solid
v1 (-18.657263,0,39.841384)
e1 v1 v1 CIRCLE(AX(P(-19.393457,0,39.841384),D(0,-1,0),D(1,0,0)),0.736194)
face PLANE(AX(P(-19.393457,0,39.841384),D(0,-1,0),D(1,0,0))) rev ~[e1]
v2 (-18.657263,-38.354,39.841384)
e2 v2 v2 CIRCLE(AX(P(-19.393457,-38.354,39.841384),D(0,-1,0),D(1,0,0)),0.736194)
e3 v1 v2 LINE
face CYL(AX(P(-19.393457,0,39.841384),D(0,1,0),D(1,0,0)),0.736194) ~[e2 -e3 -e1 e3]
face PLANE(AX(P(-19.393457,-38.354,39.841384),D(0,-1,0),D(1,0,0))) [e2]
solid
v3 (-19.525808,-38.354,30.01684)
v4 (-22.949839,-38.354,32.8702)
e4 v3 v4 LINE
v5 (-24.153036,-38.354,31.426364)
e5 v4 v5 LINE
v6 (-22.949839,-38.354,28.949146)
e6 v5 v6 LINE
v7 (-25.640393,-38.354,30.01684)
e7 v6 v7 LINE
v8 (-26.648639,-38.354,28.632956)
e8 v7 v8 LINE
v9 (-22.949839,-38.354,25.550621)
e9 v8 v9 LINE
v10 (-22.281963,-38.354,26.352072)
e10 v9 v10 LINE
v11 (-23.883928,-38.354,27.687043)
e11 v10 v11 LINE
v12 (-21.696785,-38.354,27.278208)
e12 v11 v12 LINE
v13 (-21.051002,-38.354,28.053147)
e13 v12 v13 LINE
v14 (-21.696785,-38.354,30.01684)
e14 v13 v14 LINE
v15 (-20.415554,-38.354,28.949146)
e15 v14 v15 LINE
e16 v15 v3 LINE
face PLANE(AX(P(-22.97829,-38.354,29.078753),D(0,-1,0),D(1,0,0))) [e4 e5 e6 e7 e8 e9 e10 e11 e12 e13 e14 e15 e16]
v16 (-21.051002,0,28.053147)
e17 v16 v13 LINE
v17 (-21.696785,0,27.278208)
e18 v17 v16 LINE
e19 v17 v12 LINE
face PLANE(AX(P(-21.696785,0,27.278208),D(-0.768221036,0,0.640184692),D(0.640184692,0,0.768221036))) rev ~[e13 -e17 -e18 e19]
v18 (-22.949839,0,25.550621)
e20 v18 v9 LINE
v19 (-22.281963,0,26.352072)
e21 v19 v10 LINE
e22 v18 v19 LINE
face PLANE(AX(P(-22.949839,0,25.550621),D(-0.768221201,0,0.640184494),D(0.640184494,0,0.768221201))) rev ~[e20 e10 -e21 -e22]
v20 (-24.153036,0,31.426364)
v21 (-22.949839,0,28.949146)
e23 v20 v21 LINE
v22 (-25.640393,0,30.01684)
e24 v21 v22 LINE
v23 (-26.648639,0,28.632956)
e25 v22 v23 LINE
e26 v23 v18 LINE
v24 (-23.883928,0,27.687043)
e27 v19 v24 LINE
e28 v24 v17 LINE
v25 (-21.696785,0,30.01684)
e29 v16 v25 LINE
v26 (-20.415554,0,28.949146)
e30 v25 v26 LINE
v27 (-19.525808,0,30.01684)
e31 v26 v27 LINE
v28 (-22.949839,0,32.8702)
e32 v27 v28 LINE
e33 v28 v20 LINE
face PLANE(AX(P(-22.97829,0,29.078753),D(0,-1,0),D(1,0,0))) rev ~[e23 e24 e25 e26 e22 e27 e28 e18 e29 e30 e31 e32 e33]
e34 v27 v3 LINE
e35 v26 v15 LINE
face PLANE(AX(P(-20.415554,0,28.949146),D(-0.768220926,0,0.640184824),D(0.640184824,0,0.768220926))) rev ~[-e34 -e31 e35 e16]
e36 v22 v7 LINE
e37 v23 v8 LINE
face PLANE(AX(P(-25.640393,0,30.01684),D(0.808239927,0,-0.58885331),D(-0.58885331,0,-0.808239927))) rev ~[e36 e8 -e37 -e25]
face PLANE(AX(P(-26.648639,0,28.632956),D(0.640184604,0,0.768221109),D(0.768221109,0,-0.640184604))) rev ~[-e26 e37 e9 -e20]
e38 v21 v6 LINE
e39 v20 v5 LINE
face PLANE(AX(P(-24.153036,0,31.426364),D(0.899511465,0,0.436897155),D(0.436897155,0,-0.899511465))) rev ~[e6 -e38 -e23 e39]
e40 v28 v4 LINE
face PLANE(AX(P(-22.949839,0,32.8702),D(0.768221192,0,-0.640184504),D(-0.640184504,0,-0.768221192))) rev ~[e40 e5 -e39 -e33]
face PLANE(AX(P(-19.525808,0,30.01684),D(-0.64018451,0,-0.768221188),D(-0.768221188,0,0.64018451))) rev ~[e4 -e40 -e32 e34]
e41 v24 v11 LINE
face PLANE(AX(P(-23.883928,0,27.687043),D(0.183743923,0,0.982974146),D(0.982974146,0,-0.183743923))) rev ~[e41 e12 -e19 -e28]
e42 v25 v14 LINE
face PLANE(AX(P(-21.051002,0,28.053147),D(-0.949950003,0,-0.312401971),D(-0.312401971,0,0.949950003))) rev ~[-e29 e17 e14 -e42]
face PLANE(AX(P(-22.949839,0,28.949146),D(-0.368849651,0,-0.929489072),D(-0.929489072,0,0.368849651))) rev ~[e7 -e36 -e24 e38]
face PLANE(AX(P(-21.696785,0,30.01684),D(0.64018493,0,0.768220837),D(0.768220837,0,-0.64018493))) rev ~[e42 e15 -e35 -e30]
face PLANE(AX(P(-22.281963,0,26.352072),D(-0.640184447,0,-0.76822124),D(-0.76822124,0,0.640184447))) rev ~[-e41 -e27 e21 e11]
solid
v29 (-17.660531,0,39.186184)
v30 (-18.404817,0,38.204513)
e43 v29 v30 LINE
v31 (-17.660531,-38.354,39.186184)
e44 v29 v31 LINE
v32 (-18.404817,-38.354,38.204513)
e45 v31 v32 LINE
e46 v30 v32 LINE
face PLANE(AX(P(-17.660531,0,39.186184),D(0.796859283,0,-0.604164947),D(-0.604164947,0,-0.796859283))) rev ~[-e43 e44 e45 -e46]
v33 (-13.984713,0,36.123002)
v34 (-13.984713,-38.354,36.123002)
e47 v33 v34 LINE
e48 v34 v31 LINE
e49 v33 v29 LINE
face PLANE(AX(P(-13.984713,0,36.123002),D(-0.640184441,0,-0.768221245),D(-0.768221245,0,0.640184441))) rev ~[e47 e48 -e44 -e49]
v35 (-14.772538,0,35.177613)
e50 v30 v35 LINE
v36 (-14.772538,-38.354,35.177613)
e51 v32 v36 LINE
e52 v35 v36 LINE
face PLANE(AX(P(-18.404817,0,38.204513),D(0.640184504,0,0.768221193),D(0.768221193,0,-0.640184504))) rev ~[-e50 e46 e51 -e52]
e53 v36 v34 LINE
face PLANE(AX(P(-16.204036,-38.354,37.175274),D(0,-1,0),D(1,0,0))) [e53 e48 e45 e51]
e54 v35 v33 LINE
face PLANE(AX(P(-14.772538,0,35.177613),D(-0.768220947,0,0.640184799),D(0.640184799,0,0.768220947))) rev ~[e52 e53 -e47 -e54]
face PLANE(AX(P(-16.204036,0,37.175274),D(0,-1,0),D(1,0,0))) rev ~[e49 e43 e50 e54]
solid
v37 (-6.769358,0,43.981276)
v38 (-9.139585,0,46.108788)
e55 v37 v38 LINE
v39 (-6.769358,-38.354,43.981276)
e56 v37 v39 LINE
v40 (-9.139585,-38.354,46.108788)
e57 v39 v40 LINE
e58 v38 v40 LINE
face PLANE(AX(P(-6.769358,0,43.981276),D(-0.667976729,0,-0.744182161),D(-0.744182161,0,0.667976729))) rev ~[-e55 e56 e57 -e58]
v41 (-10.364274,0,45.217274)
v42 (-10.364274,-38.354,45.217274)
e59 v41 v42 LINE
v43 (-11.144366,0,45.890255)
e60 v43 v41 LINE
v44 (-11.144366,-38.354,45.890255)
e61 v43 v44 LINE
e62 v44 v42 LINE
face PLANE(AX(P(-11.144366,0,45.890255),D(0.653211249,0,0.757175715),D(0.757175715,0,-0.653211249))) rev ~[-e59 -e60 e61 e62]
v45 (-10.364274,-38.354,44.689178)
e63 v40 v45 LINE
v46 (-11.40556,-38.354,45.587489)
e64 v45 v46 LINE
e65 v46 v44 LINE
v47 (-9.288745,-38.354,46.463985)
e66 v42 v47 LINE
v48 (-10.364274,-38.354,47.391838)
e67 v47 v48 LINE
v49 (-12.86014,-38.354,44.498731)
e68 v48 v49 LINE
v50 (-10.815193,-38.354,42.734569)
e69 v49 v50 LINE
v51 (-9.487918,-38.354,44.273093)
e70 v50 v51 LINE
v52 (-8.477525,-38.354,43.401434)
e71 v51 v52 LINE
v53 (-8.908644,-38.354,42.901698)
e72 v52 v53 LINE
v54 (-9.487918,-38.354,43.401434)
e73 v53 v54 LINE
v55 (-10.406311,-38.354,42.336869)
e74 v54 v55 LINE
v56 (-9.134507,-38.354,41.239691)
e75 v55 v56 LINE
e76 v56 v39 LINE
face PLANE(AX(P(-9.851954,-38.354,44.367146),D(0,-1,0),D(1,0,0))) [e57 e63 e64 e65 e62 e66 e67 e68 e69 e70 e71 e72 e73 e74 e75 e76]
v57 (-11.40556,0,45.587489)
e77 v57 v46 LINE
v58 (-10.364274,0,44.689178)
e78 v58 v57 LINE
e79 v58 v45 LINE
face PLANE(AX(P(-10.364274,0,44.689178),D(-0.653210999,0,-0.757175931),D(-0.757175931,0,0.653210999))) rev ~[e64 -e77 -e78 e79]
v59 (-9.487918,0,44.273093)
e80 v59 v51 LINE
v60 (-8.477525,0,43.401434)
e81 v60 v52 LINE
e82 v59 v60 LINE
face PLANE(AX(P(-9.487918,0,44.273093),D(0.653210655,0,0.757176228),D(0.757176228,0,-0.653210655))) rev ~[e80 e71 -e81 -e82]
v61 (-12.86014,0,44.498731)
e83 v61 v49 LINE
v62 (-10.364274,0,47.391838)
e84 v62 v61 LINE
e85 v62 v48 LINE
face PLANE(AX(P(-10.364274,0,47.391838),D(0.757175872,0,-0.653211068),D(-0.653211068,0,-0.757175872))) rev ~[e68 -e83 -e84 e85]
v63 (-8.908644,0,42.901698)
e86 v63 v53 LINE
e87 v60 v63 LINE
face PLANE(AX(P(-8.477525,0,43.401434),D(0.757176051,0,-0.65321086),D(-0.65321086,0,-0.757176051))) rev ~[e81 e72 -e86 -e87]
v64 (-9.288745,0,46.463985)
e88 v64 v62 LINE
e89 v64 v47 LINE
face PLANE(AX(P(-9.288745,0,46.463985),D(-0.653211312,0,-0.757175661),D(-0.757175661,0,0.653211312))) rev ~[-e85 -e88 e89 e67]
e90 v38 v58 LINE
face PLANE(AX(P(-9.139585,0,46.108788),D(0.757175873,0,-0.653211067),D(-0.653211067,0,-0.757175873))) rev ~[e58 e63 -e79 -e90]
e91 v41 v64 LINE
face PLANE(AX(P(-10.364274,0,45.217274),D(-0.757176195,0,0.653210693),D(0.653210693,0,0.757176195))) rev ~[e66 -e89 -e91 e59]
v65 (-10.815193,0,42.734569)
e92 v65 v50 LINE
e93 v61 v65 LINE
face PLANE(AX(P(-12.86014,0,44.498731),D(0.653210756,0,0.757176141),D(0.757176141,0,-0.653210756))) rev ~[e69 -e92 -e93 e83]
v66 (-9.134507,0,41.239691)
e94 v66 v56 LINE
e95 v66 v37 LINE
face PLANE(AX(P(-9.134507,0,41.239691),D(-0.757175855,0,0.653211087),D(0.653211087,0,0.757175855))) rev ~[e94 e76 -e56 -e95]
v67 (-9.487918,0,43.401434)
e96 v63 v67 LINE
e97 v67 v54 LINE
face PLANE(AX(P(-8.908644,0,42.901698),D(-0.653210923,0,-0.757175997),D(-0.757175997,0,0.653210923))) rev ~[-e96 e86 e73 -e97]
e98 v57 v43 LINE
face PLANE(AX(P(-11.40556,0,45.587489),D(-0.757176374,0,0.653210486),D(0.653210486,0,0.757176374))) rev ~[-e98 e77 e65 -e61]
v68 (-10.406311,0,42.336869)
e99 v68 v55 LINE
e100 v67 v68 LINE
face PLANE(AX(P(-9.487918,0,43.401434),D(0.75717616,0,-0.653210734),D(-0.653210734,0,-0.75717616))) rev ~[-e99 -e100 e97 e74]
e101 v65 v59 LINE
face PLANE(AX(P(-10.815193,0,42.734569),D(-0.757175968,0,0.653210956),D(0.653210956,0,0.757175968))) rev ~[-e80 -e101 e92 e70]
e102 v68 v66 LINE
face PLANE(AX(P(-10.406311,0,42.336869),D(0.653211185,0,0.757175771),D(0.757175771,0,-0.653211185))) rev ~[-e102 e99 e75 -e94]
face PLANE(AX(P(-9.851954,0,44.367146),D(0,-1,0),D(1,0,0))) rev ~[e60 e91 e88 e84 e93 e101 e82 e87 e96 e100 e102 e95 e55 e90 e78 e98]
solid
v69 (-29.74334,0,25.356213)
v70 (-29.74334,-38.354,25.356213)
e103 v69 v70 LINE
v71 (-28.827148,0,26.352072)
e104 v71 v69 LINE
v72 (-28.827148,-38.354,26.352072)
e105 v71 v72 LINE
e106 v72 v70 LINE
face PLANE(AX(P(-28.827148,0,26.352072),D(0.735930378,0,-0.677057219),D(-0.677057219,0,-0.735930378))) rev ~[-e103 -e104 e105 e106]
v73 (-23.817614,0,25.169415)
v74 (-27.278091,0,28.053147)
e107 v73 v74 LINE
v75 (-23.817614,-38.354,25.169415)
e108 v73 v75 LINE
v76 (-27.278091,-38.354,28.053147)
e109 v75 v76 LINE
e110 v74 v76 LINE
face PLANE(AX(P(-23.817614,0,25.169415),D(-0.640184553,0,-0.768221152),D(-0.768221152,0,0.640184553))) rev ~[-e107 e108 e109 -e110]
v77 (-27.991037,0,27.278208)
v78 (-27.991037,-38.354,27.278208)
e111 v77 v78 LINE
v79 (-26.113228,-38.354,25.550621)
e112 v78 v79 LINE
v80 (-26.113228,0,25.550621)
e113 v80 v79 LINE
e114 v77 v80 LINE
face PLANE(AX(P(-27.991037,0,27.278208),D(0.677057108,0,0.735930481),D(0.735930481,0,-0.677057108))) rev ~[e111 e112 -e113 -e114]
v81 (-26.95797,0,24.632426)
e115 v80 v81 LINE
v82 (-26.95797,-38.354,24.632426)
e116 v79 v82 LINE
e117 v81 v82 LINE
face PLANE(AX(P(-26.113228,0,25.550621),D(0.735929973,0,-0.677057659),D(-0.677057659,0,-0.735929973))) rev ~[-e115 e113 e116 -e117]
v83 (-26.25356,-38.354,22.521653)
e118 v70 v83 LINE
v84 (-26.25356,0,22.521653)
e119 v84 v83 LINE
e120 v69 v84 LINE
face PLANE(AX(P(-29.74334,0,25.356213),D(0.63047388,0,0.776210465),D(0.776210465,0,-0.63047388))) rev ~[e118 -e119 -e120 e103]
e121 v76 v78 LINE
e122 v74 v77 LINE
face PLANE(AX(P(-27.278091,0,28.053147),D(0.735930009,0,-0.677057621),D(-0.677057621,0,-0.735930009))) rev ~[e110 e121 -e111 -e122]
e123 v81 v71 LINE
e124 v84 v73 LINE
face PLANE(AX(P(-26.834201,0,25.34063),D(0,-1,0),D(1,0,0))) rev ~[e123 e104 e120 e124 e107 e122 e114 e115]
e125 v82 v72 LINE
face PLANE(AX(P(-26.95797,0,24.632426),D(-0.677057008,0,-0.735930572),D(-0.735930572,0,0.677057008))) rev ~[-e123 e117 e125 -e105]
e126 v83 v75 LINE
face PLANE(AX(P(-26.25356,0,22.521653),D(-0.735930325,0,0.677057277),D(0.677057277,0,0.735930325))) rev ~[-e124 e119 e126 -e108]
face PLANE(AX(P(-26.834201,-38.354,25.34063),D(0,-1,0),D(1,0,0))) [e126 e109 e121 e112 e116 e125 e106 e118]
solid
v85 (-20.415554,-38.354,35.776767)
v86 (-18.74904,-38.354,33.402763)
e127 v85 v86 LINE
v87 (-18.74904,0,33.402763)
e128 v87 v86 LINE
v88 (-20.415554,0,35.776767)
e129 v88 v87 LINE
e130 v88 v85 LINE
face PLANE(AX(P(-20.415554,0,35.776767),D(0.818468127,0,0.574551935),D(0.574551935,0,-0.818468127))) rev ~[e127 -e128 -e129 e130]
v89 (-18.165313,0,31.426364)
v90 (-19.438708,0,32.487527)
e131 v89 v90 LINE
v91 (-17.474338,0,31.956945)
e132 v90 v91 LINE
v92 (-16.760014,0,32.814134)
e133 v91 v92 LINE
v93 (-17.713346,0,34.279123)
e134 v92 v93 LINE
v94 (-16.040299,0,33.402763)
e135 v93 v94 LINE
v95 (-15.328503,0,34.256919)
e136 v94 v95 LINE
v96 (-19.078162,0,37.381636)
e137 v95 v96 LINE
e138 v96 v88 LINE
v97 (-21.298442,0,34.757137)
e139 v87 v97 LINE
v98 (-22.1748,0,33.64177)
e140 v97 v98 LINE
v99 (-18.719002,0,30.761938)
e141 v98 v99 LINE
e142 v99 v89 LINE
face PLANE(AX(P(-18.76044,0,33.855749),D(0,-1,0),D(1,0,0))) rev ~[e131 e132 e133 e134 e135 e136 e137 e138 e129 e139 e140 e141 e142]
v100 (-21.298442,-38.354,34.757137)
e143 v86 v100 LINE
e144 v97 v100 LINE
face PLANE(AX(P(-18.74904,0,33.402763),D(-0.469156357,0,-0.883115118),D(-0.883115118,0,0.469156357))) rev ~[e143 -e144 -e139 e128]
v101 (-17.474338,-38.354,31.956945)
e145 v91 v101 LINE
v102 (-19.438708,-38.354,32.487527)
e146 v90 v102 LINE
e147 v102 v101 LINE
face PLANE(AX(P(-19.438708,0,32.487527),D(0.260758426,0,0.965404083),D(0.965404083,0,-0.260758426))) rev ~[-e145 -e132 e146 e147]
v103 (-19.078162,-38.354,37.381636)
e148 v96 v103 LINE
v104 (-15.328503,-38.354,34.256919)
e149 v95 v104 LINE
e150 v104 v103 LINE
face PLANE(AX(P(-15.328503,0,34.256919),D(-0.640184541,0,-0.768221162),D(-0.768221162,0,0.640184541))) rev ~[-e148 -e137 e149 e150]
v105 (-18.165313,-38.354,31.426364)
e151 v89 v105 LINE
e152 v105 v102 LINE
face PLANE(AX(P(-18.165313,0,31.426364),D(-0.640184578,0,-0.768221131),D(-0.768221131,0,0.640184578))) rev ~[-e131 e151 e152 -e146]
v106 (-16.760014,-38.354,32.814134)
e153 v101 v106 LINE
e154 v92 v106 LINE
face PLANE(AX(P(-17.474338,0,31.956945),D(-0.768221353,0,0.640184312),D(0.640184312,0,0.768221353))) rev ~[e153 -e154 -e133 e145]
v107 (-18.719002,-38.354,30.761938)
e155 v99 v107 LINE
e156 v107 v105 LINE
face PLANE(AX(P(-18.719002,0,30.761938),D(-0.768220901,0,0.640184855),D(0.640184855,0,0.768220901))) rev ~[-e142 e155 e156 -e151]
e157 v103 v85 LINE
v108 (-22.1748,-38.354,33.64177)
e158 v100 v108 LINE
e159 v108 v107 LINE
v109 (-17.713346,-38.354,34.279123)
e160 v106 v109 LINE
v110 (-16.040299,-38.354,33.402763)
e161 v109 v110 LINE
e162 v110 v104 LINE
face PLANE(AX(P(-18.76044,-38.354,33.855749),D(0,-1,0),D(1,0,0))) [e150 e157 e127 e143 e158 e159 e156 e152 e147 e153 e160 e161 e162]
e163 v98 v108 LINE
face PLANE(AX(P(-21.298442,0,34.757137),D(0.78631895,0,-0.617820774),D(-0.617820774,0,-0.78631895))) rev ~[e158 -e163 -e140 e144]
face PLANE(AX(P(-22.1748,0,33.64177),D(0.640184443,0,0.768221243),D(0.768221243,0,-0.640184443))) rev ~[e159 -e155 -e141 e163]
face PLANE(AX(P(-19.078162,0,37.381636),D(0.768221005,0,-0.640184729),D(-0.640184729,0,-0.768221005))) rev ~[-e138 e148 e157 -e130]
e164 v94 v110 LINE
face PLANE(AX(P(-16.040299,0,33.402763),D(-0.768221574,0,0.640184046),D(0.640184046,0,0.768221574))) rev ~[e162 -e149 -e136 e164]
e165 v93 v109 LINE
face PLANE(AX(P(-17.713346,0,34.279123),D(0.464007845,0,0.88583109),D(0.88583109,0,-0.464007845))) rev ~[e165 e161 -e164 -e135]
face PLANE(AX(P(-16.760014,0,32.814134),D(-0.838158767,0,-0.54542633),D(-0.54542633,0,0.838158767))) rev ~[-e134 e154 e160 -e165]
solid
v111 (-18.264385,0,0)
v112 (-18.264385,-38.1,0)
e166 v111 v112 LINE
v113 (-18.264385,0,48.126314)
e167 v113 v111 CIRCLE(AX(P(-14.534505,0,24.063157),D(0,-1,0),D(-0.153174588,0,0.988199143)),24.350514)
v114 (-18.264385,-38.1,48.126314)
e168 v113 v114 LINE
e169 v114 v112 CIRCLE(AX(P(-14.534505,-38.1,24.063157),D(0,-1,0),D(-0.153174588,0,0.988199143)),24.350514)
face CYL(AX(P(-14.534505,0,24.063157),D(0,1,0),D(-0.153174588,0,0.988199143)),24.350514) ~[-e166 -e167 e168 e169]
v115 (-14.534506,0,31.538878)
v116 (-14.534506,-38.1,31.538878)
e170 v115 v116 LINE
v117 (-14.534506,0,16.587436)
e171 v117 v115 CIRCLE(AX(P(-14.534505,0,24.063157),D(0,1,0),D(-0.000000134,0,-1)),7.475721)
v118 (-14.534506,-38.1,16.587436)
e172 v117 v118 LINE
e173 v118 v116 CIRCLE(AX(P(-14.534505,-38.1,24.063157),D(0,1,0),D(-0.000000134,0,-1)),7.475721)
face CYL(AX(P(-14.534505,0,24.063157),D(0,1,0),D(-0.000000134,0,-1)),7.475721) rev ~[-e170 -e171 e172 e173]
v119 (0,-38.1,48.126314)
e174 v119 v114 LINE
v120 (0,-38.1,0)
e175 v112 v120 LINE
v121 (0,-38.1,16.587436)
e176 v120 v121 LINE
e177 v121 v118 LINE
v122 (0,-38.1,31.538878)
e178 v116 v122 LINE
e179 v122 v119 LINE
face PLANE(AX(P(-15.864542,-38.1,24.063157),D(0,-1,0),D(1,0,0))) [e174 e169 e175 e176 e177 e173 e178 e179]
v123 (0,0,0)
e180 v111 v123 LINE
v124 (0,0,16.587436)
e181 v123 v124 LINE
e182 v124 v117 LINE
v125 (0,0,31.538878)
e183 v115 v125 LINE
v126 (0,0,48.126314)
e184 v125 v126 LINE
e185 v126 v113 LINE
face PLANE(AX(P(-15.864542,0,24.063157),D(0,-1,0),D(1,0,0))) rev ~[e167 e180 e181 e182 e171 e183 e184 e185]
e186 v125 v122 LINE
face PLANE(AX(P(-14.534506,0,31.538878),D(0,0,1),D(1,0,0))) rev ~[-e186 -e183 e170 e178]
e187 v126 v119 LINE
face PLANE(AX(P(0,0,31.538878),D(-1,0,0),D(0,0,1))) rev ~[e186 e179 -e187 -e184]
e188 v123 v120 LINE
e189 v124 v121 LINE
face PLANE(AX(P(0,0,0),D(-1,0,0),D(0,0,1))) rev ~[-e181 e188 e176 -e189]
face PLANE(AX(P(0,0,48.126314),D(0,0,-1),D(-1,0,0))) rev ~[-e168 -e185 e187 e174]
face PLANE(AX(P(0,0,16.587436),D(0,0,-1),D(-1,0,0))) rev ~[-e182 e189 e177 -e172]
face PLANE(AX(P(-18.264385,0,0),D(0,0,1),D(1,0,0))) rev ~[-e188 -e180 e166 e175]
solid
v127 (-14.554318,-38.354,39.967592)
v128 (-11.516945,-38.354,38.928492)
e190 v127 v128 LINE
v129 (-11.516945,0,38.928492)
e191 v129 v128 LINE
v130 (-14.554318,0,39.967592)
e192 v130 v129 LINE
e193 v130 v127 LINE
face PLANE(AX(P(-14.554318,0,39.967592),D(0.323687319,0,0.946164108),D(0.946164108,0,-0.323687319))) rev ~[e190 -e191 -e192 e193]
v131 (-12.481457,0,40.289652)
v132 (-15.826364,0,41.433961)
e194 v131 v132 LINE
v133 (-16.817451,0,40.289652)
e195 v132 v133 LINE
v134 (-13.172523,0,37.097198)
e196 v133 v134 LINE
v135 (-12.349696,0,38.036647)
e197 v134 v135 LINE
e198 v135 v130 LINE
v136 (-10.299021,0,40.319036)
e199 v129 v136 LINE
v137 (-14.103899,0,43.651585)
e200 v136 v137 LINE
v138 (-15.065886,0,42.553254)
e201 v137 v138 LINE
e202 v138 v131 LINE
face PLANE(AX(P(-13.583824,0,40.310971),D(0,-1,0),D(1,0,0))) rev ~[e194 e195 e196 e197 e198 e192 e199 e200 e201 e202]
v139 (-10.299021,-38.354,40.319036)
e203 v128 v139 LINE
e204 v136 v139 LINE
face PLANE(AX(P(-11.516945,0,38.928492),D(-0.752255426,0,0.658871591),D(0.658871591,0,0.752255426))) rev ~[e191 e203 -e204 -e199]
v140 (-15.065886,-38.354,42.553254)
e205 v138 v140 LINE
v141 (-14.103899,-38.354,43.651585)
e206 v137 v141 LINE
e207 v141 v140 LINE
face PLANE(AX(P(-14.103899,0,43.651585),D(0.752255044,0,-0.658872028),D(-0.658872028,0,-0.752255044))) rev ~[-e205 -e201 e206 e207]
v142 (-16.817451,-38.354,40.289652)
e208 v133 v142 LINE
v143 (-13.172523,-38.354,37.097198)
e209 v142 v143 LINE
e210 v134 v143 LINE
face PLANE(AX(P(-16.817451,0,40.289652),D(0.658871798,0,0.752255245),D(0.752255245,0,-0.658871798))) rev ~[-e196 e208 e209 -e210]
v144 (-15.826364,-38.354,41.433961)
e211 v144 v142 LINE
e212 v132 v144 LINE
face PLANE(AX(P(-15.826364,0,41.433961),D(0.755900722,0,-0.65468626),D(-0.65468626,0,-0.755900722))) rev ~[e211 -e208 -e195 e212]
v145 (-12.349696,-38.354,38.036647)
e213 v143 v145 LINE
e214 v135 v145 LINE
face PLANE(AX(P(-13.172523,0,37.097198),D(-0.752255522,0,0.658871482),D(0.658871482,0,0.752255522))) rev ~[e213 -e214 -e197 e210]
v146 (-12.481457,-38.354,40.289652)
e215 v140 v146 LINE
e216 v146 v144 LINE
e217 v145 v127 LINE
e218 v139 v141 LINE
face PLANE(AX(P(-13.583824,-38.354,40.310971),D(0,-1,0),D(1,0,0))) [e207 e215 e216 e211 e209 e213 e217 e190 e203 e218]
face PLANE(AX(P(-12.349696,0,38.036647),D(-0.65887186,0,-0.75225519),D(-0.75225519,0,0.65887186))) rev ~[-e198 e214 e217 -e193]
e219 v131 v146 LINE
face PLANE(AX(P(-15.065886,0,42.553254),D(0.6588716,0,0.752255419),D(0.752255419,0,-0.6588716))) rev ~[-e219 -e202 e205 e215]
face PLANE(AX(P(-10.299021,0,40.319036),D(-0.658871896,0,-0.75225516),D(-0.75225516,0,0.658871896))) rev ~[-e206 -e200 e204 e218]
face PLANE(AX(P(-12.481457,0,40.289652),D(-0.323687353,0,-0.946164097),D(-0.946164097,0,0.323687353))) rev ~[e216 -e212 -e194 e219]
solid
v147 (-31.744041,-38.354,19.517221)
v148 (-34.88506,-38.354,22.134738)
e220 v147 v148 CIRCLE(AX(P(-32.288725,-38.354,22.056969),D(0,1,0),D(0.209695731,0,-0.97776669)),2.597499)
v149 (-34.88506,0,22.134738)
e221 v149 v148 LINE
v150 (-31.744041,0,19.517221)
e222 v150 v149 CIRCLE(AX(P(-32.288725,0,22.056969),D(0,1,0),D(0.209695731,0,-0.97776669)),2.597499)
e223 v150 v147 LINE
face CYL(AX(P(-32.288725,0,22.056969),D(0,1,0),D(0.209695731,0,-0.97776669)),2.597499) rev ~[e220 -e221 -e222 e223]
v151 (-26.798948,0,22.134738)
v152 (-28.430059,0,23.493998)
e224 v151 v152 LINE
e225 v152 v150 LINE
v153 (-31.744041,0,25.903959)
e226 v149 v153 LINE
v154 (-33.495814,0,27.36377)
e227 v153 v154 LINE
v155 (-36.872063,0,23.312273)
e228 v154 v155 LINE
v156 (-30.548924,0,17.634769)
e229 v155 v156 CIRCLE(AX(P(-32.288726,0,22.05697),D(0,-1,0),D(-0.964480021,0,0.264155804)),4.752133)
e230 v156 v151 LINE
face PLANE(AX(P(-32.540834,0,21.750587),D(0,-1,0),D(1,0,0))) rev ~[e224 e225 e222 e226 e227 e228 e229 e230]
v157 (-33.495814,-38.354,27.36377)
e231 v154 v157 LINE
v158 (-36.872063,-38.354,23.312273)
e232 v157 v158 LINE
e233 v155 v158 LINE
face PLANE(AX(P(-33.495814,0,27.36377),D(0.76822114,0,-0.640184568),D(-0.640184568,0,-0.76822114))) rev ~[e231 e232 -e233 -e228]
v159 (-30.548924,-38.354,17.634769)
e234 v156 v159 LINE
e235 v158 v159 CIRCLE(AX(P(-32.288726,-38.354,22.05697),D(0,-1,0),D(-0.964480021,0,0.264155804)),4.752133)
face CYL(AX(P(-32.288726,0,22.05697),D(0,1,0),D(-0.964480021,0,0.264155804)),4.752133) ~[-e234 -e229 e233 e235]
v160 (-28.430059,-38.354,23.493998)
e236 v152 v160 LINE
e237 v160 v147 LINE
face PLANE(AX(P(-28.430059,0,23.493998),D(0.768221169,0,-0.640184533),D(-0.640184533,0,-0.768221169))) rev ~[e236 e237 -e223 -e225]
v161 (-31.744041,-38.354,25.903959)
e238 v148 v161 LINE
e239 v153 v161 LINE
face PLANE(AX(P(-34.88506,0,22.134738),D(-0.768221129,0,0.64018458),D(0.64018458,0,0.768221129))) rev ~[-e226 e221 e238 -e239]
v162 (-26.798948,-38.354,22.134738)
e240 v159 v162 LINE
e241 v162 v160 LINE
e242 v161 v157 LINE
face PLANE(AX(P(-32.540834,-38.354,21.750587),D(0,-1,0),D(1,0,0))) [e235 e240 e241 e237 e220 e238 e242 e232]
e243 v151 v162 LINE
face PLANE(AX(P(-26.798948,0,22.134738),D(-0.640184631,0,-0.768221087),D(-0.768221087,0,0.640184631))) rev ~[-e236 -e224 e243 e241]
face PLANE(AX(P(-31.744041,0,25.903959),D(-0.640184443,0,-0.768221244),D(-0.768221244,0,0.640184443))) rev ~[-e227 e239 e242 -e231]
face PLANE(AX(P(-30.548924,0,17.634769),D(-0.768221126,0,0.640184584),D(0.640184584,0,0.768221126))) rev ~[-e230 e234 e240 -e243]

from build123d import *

# Parameters (mm, degrees)
F1_R     = 0.736194
F2_DEPTH = 38.354
F3_DEPTH = 38.1


with BuildPart() as f2:
    # F1 (on Front) → F2 (new body)
    with BuildSketch(Plane.XZ):
        with BuildLine():
            Line((-33.495814, 27.36377), (-36.872063, 23.312273))
            ThreePointArc((-36.872063, 23.312273), (-35.463617, 18.521035), (-30.548924, 17.634769))
            Line((-30.548924, 17.634769), (-26.798948, 22.134738))
            Line((-26.798948, 22.134738), (-28.430059, 23.493998))
            Line((-28.430059, 23.493998), (-31.744041, 19.517221))
            ThreePointArc((-31.744041, 19.517221), (-33.951605, 20.061516), (-34.88506, 22.134738))
            Line((-34.88506, 22.134738), (-31.744041, 25.903959))
            Line((-31.744041, 25.903959), (-33.495814, 27.36377))
        make_face()
        Polygon((-28.827148, 26.352072), (-29.74334, 25.356213), (-26.25356, 22.521653), (-23.817614, 25.169415), (-27.278091, 28.053147), (-27.991037, 27.278208), (-26.113228, 25.550621), (-26.95797, 24.632426), align=None)
        Polygon((-25.640393, 30.01684), (-26.648639, 28.632956), (-22.949839, 25.550621), (-22.281963, 26.352072), (-23.883928, 27.687043), (-21.696785, 27.278208), (-21.051002, 28.053147), (-21.696785, 30.01684), (-20.415554, 28.949146), (-19.525808, 30.01684), (-22.949839, 32.8702), (-24.153036, 31.426364), (-22.949839, 28.949146), align=None)
        Polygon((-21.298442, 34.757137), (-22.1748, 33.64177), (-18.719002, 30.761938), (-18.165313, 31.426364), (-19.438708, 32.487527), (-17.474338, 31.956945), (-16.760014, 32.814134), (-17.713346, 34.279123), (-16.040299, 33.402763), (-15.328503, 34.256919), (-19.078162, 37.381636), (-20.415554, 35.776767), (-18.74904, 33.402763), align=None)
        Polygon((-17.660531, 39.186184), (-18.404817, 38.204513), (-14.772538, 35.177613), (-13.984713, 36.123002), align=None)
        with Locations((-19.393457, 39.841384)):
            Circle(F1_R)
        Polygon((-15.826364, 41.433961), (-16.817451, 40.289652), (-13.172523, 37.097198), (-12.349696, 38.036647), (-14.554318, 39.967592), (-11.516945, 38.928492), (-10.299021, 40.319036), (-14.103899, 43.651585), (-15.065886, 42.553254), (-12.481457, 40.289652), align=None)
        Polygon((-9.487918, 43.401434), (-10.406311, 42.336869), (-9.134507, 41.239691), (-6.769358, 43.981276), (-9.139585, 46.108788), (-10.364274, 44.689178), (-11.40556, 45.587489), (-11.144366, 45.890255), (-10.364274, 45.217274), (-9.288745, 46.463985), (-10.364274, 47.391838), (-12.86014, 44.498731), (-10.815193, 42.734569), (-9.487918, 44.273093), (-8.477525, 43.401434), (-8.908644, 42.901698), align=None)
    extrude(amount=F2_DEPTH)


with BuildPart() as f3:
    # F0 (on Front) → F3 (new body)
    with BuildSketch(Plane.XZ):
        with BuildLine():
            Line((0, 31.538878), (0, 48.126314))
            Line((0, 48.126314), (-18.264385, 48.126314))
            ThreePointArc((-18.264385, 48.126314), (-38.885019, 24.063157), (-18.264385, 0))
            Line((-18.264385, 0), (0, 0))
            Line((0, 0), (0, 16.587436))
            Line((0, 16.587436), (-14.534506, 16.587436))
            ThreePointArc((-14.534506, 16.587436), (-22.010226, 24.063157), (-14.534506, 31.538878))
            Line((-14.534506, 31.538878), (0, 31.538878))
        make_face()
    extrude(amount=F3_DEPTH)


solid = Compound([f2.part, f3.part])
